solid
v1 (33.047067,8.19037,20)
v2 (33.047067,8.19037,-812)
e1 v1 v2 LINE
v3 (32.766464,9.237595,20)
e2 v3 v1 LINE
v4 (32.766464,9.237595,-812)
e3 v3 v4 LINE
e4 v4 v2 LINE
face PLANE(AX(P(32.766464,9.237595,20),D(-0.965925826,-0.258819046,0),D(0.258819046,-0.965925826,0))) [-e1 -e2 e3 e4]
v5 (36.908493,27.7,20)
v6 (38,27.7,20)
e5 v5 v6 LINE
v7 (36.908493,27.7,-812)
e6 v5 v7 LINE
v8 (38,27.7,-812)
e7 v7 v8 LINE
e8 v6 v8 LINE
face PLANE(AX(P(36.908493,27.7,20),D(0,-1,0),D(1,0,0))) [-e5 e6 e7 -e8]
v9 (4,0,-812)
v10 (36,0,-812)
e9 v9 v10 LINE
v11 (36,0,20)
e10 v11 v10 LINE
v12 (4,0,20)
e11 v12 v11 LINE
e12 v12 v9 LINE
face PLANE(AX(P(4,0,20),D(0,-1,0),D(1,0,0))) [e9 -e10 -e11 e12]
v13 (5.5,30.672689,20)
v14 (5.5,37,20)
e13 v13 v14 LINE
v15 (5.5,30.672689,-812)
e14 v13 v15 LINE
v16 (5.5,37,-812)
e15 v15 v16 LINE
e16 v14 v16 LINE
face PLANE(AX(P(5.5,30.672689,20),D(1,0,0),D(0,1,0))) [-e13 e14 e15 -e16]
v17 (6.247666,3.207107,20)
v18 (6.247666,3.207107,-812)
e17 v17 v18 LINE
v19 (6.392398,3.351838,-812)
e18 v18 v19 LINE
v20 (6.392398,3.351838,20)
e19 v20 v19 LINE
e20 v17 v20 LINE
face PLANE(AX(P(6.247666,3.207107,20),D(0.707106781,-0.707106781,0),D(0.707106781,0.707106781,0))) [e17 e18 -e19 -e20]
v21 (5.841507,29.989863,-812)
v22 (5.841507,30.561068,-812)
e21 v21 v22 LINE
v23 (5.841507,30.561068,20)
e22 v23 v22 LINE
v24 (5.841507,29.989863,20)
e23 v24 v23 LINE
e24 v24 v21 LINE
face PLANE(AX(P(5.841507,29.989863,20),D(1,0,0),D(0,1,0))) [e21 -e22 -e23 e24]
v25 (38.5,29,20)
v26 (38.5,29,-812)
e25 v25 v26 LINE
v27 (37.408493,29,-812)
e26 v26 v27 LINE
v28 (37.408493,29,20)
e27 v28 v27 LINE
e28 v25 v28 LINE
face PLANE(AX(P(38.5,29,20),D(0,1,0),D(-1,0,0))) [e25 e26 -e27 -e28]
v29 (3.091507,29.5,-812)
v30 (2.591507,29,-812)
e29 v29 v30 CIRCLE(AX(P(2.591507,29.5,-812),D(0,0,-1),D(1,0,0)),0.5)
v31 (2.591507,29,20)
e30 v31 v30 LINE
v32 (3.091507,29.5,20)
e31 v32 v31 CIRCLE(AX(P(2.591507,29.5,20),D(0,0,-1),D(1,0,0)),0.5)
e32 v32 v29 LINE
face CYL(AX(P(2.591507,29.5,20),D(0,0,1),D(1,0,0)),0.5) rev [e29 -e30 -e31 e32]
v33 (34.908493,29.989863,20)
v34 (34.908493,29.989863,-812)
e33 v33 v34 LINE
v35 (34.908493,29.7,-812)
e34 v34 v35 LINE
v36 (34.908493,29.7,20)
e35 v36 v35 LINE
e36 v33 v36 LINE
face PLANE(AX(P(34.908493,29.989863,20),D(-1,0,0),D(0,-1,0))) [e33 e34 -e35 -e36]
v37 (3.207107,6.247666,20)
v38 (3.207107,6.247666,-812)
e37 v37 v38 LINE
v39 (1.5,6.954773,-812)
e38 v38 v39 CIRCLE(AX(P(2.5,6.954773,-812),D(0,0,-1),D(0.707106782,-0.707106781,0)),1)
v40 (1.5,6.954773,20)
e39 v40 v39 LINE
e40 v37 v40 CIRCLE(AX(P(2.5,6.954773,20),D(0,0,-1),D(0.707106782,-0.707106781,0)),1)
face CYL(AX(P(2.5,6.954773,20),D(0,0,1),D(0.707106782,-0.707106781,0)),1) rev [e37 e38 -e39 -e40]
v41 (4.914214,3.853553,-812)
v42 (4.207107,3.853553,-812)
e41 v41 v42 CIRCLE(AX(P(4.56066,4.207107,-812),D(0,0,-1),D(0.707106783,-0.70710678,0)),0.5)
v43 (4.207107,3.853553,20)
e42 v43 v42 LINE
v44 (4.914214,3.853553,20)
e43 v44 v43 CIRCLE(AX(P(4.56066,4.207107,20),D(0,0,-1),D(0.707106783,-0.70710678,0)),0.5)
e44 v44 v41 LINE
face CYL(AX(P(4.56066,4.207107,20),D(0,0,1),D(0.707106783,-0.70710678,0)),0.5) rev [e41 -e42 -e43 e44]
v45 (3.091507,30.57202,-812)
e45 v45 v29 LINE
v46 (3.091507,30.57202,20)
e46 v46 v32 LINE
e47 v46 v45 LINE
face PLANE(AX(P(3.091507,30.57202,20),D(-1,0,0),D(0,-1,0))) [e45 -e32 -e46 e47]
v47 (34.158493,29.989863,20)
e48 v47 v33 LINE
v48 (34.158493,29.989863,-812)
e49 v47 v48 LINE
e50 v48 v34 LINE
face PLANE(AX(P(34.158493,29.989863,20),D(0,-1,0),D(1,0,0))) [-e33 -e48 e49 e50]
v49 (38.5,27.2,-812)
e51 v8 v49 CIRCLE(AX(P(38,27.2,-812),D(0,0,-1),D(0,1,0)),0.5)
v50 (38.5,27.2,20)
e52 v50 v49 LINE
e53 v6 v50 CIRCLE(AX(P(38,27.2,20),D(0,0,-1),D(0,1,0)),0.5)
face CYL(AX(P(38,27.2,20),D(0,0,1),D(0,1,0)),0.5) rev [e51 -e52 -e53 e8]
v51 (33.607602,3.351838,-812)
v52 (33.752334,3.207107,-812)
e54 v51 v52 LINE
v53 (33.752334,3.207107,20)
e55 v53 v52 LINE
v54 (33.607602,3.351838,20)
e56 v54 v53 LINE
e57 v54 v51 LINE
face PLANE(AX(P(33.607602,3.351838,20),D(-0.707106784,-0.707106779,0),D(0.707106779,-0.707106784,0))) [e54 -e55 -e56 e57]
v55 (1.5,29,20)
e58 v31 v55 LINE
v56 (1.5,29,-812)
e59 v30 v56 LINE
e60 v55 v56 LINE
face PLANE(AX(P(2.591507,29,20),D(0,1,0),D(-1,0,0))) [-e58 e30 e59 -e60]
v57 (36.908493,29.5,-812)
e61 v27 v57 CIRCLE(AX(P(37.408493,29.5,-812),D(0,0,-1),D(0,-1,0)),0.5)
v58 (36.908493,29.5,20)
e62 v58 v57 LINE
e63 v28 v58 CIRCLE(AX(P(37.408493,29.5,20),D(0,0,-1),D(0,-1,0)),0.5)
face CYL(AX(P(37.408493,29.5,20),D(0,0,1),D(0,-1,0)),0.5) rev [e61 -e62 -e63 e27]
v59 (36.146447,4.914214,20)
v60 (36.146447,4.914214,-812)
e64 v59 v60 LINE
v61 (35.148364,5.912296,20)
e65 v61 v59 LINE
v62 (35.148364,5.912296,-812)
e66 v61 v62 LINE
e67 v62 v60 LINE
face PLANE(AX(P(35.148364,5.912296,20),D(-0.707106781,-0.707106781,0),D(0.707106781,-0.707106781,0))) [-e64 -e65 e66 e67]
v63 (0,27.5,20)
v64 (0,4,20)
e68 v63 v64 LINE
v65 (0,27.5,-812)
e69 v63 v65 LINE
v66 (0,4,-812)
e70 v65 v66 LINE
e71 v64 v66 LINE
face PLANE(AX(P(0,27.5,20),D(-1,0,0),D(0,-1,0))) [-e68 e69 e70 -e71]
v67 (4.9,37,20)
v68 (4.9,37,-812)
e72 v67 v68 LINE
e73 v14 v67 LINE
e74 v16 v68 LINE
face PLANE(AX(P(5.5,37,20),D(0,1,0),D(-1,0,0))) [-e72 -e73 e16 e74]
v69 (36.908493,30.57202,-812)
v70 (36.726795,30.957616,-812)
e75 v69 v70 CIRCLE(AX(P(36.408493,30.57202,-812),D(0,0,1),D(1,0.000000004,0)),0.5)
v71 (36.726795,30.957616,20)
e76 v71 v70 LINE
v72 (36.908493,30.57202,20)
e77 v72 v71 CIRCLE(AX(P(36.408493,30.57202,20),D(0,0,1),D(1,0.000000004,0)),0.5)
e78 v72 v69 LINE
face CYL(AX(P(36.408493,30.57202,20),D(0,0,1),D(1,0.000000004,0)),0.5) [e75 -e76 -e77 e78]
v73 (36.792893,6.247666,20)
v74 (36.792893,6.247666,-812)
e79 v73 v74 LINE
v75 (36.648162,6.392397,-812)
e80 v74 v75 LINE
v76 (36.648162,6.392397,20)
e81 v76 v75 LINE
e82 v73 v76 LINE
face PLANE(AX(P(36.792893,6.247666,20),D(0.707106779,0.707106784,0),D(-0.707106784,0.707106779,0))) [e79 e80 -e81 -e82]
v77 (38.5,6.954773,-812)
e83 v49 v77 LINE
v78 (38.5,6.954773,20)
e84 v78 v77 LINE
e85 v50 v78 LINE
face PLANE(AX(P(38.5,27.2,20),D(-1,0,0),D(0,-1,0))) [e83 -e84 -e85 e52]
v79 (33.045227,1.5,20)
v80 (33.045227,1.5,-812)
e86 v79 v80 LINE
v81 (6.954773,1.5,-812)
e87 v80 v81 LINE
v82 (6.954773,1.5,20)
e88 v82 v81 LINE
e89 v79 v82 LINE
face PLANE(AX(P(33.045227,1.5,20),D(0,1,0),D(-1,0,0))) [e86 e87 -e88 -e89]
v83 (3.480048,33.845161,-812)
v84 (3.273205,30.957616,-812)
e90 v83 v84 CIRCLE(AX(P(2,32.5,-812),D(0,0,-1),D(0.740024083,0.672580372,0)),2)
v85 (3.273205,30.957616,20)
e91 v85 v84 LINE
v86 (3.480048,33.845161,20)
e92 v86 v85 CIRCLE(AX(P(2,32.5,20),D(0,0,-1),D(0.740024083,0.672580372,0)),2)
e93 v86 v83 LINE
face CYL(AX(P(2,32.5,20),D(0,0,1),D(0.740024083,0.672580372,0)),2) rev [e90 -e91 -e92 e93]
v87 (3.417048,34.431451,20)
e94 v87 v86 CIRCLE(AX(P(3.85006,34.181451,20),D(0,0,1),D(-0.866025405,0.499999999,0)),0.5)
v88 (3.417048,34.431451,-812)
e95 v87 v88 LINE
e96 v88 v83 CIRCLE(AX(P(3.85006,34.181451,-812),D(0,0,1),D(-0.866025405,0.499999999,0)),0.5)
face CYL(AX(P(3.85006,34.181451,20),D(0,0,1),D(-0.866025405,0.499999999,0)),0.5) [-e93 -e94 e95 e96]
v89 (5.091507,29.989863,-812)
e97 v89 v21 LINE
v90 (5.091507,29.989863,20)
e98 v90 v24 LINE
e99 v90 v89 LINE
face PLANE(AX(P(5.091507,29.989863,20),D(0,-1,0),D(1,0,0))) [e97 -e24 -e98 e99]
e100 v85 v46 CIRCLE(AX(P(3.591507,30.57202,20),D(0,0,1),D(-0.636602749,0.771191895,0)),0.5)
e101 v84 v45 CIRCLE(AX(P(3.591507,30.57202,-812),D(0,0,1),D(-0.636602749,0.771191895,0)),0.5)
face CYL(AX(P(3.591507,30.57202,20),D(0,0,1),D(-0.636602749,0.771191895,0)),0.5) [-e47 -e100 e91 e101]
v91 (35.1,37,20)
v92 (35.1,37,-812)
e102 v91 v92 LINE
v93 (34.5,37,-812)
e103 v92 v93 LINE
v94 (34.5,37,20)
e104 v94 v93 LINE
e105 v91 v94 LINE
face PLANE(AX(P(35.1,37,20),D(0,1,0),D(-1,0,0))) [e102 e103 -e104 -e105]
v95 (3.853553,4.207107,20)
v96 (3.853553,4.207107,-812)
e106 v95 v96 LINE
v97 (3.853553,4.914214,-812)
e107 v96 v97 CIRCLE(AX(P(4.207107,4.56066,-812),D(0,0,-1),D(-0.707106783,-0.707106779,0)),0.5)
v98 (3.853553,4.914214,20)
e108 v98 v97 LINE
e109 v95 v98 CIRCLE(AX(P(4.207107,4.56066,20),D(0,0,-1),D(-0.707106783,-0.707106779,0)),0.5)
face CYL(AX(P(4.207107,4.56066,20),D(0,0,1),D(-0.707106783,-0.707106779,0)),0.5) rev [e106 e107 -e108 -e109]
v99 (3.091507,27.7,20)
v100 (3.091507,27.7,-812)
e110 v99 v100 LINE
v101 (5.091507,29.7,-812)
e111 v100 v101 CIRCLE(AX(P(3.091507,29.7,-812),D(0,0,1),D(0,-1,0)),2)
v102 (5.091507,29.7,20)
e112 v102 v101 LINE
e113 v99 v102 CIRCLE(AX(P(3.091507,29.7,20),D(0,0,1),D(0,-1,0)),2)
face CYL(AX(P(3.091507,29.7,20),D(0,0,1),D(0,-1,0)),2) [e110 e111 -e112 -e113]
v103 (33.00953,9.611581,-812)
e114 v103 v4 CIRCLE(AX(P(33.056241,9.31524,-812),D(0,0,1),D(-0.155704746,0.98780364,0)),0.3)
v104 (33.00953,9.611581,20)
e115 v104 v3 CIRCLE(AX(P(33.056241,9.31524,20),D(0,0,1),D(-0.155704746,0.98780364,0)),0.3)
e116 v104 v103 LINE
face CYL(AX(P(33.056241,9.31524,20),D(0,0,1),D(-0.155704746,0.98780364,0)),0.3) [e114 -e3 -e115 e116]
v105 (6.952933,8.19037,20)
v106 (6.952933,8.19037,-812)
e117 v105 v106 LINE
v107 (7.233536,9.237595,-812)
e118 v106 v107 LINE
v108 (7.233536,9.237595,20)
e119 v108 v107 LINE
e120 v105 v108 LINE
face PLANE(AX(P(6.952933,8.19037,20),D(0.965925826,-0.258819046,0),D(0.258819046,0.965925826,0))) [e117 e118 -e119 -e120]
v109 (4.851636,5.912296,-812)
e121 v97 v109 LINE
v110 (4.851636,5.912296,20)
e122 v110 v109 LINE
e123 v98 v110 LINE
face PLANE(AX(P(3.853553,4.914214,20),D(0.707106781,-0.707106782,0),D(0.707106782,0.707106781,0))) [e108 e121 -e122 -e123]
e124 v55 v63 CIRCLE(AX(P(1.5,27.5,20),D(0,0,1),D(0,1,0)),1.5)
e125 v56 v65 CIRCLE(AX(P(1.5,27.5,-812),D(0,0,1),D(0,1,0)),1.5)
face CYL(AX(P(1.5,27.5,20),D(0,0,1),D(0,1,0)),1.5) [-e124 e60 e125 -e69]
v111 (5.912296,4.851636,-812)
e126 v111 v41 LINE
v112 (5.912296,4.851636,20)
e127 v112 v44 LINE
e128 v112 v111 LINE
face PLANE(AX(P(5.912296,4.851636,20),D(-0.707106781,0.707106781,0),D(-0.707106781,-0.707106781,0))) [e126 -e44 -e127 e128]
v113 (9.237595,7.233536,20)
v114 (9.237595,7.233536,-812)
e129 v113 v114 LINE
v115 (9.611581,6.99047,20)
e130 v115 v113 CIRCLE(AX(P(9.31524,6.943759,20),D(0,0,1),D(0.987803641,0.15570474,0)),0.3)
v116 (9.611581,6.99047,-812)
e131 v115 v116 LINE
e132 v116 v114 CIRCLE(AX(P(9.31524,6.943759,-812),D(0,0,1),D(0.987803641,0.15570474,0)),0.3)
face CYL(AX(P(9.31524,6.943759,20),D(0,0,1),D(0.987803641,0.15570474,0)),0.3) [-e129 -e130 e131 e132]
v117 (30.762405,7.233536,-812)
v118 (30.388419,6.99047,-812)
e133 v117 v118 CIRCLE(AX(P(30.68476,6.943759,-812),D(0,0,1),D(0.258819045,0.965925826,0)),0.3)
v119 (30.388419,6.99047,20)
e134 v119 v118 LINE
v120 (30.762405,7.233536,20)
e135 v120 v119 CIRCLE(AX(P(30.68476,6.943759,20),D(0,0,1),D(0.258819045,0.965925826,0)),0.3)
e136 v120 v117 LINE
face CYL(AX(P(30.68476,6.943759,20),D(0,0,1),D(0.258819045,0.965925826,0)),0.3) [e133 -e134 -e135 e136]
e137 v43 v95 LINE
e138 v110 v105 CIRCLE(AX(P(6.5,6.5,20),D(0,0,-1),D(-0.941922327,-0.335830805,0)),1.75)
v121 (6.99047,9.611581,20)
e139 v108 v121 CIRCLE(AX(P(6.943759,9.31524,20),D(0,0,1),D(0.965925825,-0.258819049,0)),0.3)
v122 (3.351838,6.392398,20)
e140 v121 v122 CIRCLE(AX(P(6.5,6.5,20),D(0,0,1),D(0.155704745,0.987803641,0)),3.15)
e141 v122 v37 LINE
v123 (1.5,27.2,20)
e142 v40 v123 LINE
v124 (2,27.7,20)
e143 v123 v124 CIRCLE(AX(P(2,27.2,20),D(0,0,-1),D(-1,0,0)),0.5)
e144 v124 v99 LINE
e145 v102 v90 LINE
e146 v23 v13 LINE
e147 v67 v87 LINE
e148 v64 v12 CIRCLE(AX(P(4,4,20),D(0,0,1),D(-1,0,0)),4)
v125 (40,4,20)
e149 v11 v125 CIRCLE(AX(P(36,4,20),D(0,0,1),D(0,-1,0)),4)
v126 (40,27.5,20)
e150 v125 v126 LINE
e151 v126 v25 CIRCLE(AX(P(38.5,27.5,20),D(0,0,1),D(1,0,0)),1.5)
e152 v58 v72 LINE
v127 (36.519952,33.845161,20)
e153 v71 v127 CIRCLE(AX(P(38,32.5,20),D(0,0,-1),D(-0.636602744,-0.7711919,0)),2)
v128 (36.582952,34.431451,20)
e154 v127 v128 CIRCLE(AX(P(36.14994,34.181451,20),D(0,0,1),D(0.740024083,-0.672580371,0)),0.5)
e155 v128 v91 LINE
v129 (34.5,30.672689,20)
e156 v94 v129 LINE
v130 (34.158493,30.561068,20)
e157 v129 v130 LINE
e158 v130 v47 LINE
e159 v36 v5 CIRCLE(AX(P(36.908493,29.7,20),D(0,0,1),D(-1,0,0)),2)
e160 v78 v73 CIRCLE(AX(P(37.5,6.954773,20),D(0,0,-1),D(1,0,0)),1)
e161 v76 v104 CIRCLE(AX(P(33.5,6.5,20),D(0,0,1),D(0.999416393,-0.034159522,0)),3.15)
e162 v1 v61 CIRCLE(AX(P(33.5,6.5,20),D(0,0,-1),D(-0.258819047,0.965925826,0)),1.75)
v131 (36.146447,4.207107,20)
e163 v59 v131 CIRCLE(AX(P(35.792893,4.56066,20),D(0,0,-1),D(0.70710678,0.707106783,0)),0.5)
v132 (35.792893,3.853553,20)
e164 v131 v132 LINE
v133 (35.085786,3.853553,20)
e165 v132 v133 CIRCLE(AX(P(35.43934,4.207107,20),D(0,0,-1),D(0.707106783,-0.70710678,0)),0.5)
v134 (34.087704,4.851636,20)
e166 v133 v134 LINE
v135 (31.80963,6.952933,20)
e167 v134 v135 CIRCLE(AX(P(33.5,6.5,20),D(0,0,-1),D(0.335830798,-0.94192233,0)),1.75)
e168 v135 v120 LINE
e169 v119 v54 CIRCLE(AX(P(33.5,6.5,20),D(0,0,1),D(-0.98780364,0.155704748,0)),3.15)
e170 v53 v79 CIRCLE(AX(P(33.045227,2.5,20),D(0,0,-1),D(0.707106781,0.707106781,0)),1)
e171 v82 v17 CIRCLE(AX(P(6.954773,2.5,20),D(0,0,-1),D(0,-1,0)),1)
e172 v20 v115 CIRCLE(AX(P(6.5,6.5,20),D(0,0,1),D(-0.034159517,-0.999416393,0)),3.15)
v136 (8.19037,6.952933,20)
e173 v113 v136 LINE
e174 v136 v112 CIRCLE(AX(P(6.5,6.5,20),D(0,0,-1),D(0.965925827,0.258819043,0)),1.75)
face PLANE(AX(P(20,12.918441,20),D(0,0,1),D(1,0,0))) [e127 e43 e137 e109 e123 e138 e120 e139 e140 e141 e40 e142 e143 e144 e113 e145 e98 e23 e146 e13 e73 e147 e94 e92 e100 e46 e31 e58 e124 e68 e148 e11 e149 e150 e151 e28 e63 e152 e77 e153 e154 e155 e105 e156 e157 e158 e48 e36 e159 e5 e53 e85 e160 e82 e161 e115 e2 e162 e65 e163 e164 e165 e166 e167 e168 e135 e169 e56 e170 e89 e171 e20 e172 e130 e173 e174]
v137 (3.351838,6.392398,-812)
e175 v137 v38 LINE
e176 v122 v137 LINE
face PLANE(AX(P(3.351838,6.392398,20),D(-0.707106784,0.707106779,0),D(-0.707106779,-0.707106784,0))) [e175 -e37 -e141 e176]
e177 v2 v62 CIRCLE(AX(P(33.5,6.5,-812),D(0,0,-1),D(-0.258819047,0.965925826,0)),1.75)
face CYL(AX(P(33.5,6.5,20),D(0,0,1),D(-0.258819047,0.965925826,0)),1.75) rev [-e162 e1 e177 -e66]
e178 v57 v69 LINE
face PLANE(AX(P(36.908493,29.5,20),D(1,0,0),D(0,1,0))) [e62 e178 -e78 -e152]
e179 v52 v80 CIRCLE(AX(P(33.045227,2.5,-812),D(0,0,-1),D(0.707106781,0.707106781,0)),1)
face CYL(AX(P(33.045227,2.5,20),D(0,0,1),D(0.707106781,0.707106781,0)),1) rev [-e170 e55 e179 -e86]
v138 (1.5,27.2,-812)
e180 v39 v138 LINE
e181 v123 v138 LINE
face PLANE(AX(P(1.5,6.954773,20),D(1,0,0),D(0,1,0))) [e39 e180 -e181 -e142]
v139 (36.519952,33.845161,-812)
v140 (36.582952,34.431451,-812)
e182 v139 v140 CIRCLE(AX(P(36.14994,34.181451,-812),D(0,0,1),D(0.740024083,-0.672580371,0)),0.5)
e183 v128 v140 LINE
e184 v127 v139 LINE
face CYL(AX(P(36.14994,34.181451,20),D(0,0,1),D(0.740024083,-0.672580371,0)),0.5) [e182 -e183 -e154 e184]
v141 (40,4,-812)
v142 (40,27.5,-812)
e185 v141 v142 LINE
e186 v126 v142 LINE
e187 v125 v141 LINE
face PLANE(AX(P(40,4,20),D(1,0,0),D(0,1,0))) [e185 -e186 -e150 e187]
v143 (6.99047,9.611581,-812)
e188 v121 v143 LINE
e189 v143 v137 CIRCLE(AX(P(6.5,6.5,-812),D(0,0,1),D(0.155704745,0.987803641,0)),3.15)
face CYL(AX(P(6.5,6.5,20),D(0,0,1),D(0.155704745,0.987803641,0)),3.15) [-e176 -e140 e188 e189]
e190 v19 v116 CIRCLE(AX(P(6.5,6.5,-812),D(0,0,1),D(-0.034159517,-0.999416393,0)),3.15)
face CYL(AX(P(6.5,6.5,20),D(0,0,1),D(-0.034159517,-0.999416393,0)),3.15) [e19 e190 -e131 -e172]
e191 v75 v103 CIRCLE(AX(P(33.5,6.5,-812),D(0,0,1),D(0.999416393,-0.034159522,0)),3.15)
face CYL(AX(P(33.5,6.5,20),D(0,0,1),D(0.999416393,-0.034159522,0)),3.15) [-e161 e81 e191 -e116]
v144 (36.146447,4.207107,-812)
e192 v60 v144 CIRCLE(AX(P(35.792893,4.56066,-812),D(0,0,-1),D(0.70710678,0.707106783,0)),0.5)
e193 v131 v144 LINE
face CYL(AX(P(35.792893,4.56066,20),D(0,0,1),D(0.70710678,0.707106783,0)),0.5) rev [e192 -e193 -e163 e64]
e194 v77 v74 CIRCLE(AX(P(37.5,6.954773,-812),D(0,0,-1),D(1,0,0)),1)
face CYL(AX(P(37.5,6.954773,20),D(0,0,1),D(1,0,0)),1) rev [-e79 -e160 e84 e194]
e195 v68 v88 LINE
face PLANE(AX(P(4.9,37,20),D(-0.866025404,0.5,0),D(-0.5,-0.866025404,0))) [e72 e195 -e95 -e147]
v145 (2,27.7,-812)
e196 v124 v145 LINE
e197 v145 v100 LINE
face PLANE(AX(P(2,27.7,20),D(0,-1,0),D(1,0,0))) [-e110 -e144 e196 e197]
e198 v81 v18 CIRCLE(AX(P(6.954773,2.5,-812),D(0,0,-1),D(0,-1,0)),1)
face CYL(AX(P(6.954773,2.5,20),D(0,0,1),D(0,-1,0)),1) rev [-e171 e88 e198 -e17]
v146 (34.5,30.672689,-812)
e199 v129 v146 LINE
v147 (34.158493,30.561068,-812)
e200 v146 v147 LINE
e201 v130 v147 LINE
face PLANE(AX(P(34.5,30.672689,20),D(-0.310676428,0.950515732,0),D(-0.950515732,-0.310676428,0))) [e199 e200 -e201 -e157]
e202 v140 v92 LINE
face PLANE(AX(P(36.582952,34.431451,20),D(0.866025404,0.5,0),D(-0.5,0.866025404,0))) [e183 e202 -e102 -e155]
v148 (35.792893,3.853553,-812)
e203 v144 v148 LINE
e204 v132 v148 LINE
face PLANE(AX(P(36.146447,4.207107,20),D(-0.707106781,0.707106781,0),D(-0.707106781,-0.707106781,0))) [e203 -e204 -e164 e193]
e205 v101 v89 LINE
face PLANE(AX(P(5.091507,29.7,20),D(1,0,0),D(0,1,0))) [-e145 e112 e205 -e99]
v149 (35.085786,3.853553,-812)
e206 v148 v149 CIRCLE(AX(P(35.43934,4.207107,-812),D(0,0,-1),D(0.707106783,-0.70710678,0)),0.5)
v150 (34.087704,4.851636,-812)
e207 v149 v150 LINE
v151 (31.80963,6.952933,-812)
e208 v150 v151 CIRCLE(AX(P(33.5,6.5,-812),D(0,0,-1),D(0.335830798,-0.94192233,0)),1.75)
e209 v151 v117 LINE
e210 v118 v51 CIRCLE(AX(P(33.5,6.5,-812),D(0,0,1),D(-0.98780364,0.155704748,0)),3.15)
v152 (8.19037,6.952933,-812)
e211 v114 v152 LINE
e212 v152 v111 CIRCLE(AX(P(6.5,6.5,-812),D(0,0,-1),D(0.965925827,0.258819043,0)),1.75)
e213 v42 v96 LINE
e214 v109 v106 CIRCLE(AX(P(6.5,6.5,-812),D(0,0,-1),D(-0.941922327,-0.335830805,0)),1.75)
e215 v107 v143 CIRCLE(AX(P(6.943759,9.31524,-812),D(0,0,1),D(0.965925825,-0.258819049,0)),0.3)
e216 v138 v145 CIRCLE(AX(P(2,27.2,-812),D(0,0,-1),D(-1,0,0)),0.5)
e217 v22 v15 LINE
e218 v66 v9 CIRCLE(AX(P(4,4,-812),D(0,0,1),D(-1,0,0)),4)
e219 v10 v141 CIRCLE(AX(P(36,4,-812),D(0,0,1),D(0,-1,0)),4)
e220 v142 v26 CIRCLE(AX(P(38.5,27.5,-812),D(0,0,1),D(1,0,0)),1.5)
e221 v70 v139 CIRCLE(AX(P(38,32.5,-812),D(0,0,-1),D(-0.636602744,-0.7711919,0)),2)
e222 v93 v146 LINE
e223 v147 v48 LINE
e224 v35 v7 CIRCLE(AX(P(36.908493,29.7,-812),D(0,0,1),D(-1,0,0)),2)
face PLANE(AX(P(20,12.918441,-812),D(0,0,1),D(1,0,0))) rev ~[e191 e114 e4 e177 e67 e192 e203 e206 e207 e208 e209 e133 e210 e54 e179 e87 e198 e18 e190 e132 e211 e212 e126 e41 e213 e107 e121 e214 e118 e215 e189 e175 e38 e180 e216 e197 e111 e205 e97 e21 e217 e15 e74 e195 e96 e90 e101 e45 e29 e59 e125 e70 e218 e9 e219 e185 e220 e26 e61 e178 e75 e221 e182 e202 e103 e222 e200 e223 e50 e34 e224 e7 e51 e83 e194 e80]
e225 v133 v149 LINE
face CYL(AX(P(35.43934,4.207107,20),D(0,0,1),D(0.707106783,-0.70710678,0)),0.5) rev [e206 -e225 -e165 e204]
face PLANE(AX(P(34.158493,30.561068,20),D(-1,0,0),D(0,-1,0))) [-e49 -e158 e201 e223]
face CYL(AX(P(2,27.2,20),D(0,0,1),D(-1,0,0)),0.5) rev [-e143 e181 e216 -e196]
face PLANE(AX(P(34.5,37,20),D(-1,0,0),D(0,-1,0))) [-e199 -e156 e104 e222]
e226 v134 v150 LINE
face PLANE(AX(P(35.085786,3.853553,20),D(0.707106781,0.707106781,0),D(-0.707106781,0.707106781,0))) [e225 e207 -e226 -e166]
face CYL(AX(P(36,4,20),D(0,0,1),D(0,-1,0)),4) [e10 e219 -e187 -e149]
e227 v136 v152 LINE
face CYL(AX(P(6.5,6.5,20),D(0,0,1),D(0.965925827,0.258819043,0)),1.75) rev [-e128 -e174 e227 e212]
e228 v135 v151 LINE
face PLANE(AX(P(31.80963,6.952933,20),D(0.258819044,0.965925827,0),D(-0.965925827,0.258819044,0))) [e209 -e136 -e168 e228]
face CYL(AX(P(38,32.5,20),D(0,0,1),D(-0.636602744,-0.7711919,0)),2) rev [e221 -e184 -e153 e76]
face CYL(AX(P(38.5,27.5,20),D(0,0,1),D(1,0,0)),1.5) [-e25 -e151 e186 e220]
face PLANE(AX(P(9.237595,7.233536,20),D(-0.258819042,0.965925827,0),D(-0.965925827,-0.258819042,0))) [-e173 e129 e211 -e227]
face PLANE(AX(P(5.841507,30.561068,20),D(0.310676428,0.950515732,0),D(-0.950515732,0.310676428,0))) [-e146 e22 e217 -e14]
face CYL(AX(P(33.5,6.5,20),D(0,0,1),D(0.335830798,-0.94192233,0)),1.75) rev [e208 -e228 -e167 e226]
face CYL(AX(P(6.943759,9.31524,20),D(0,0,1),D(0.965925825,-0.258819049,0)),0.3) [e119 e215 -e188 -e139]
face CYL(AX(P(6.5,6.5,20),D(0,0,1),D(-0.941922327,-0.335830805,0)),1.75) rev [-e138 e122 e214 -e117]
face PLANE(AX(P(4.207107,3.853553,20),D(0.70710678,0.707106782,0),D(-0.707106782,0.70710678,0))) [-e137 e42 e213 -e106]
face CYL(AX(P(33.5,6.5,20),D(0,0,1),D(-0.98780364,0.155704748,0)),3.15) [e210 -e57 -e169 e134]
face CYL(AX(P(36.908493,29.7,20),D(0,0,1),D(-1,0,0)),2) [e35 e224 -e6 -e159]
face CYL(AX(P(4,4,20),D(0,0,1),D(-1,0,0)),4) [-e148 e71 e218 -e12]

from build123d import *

# Parameters (mm, degrees)
BOSS_EXTRUDE1_DEPTH = 832


with BuildPart() as part:
    # Sketch1 → Boss-Extrude1 (new body)
    with BuildSketch(Plane.XY.offset(20)):
        with BuildLine():
            Line((4, 0), (36, 0))
            ThreePointArc((36, 0), (38.828427125, 1.171572875), (40, 4))
            Line((40, 4), (40, 27.499999994))
            ThreePointArc((40, 27.499999994), (39.56066017, 28.56066017), (38.499999994, 29))
            Line((38.499999994, 29), (37.408493132, 29))
            ThreePointArc((37.408493132, 29), (37.05493974, 29.14644661), (36.90849313, 29.500000002))
            Line((36.90849313, 29.500000002), (36.90849313, 30.572020267))
            ThreePointArc((36.90849313, 30.572020267), (36.86079319, 30.785150869), (36.726794508, 30.957616203))
            ThreePointArc((36.726794508, 30.957616203), (36.005111578, 32.357100716), (36.519951827, 33.845160752))
            ThreePointArc((36.519951827, 33.845160752), (36.647077826, 34.128030253), (36.582952488, 34.431450944))
            Line((36.582952488, 34.431450944), (35.099999998, 37.000000001))
            Line((35.099999998, 37.000000001), (34.500000002, 37.000000001))
            Line((34.500000002, 37.000000001), (34.500000002, 30.672689193))
            Line((34.500000002, 30.672689193), (34.158493132, 30.561067543))
            Line((34.158493132, 30.561067543), (34.158493132, 29.989862813))
            Line((34.158493132, 29.989862813), (34.908493132, 29.989862813))
            Line((34.908493132, 29.989862813), (34.908493132, 29.700000011))
            ThreePointArc((34.908493132, 29.700000011), (35.494279572, 28.285786443), (36.908493141, 27.700000003))
            Line((36.908493141, 27.700000003), (38.000000017, 27.700000003))
            ThreePointArc((38.000000017, 27.700000003), (38.353553409, 27.553553393), (38.500000019, 27.200000001))
            Line((38.500000019, 27.200000001), (38.500000019, 6.9547727))
            ThreePointArc((38.500000019, 6.9547727), (37.882683451, 6.030893167), (36.792893237, 6.247665919))
            Line((36.792893237, 6.247665919), (36.648161659, 6.392397496))
            ThreePointArc((36.648161659, 6.392397496), (35.587251229, 8.859212237), (33.009530056, 9.611581471))
            ThreePointArc((33.009530056, 9.611581471), (32.804700675, 9.478725012), (32.766463725, 9.237594653))
            Line((32.766463725, 9.237594653), (33.047066675, 8.190370192))
            ThreePointArc((33.047066675, 8.190370192), (34.786339421, 7.686520507), (35.148364083, 5.912296075))
            Line((35.148364083, 5.912296075), (36.146446608, 4.91421355))
            ThreePointArc((36.146446608, 4.91421355), (36.292893217, 4.560660161), (36.146446608, 4.207106773))
            Line((36.146446608, 4.207106773), (35.792893214, 3.853553379))
            ThreePointArc((35.792893214, 3.853553379), (35.439339826, 3.70710677), (35.085786437, 3.853553379))
            Line((35.085786437, 3.853553379), (34.087703906, 4.85163591))
            ThreePointArc((34.087703906, 4.85163591), (32.313479487, 5.213660585), (31.809629807, 6.952933321))
            Line((31.809629807, 6.952933321), (30.762405333, 7.233536272))
            ThreePointArc((30.762405333, 7.233536272), (30.521274984, 7.195299323), (30.38841853, 6.990469949))
            ThreePointArc((30.38841853, 6.990469949), (31.140787752, 4.412748784), (33.607602477, 3.351838341))
            Line((33.607602477, 3.351838341), (33.752334032, 3.207106785))
            ThreePointArc((33.752334032, 3.207106785), (33.969106782, 2.117316579), (33.045227255, 1.500000015))
            Line((33.045227255, 1.500000015), (6.954772716, 1.500000015))
            ThreePointArc((6.954772716, 1.500000015), (6.030893183, 2.117316583), (6.247665934, 3.207106797))
            Line((6.247665934, 3.207106797), (6.392397512, 3.351838375))
            ThreePointArc((6.392397512, 3.351838375), (8.859212224, 4.412748803), (9.611581449, 6.990469949))
            ThreePointArc((9.611581449, 6.990469949), (9.478724996, 7.195299323), (9.237594646, 7.233536272))
            Line((9.237594646, 7.233536272), (8.190370187, 6.952933328))
            ThreePointArc((8.190370187, 6.952933328), (7.686520502, 5.213660596), (5.912296085, 4.851635932))
            Line((5.912296085, 4.851635932), (4.914213553, 3.8535534))
            ThreePointArc((4.914213553, 3.8535534), (4.560660164, 3.707106791), (4.207106776, 3.8535534))
            Line((4.207106776, 3.8535534), (3.853553388, 4.207106787))
            ThreePointArc((3.853553388, 4.207106787), (3.70710678, 4.560660175), (3.853553388, 4.914213564))
            Line((3.853553388, 4.914213564), (4.85163592, 5.912296095))
            ThreePointArc((4.85163592, 5.912296095), (5.213660585, 7.686520517), (6.952933322, 8.190370198))
            Line((6.952933322, 8.190370198), (7.233536268, 9.237594644))
            ThreePointArc((7.233536268, 9.237594644), (7.195299318, 9.478725003), (6.990469936, 9.611581462))
            ThreePointArc((6.990469936, 9.611581462), (4.412748785, 8.859212233), (3.351838362, 6.392397513))
            Line((3.351838362, 6.392397513), (3.207106785, 6.247665935))
            ThreePointArc((3.207106785, 6.247665935), (2.11731657, 6.030893183), (1.500000002, 6.954772717))
            Line((1.500000002, 6.954772717), (1.500000002, 27.200000001))
            ThreePointArc((1.500000002, 27.200000001), (1.646446612, 27.553553393), (2.000000004, 27.700000003))
            Line((2.000000004, 27.700000003), (3.091506864, 27.700000003))
            ThreePointArc((3.091506864, 27.700000003), (4.505720432, 28.285786443), (5.091506872, 29.700000011))
            Line((5.091506872, 29.700000011), (5.091506872, 29.989862813))
            Line((5.091506872, 29.989862813), (5.841506868, 29.989862813))
            Line((5.841506868, 29.989862813), (5.841506868, 30.561067541))
            Line((5.841506868, 30.561067541), (5.499999998, 30.672689191))
            Line((5.499999998, 30.672689191), (5.499999998, 37.000000001))
            Line((5.499999998, 37.000000001), (4.899999998, 37.000000001))
            Line((4.899999998, 37.000000001), (3.417047508, 34.431450944))
            ThreePointArc((3.417047508, 34.431450944), (3.35292217, 34.128030253), (3.480048169, 33.845160751))
            ThreePointArc((3.480048169, 33.845160751), (3.99488842, 32.357100716), (3.273205491, 30.957616203))
            ThreePointArc((3.273205491, 30.957616203), (3.13920681, 30.785150869), (3.09150687, 30.572020267))
            Line((3.09150687, 30.572020267), (3.09150687, 29.500000002))
            ThreePointArc((3.09150687, 29.500000002), (2.94506026, 29.14644661), (2.591506868, 29))
            Line((2.591506868, 29), (1.500000006, 29))
            ThreePointArc((1.500000006, 29), (0.43933983, 28.56066017), (0, 27.499999994))
            Line((0, 27.499999994), (0, 4))
            ThreePointArc((0, 4), (1.171572875, 1.171572875), (4, 0))
        make_face()
    extrude(amount=-BOSS_EXTRUDE1_DEPTH)


solid = part.part
